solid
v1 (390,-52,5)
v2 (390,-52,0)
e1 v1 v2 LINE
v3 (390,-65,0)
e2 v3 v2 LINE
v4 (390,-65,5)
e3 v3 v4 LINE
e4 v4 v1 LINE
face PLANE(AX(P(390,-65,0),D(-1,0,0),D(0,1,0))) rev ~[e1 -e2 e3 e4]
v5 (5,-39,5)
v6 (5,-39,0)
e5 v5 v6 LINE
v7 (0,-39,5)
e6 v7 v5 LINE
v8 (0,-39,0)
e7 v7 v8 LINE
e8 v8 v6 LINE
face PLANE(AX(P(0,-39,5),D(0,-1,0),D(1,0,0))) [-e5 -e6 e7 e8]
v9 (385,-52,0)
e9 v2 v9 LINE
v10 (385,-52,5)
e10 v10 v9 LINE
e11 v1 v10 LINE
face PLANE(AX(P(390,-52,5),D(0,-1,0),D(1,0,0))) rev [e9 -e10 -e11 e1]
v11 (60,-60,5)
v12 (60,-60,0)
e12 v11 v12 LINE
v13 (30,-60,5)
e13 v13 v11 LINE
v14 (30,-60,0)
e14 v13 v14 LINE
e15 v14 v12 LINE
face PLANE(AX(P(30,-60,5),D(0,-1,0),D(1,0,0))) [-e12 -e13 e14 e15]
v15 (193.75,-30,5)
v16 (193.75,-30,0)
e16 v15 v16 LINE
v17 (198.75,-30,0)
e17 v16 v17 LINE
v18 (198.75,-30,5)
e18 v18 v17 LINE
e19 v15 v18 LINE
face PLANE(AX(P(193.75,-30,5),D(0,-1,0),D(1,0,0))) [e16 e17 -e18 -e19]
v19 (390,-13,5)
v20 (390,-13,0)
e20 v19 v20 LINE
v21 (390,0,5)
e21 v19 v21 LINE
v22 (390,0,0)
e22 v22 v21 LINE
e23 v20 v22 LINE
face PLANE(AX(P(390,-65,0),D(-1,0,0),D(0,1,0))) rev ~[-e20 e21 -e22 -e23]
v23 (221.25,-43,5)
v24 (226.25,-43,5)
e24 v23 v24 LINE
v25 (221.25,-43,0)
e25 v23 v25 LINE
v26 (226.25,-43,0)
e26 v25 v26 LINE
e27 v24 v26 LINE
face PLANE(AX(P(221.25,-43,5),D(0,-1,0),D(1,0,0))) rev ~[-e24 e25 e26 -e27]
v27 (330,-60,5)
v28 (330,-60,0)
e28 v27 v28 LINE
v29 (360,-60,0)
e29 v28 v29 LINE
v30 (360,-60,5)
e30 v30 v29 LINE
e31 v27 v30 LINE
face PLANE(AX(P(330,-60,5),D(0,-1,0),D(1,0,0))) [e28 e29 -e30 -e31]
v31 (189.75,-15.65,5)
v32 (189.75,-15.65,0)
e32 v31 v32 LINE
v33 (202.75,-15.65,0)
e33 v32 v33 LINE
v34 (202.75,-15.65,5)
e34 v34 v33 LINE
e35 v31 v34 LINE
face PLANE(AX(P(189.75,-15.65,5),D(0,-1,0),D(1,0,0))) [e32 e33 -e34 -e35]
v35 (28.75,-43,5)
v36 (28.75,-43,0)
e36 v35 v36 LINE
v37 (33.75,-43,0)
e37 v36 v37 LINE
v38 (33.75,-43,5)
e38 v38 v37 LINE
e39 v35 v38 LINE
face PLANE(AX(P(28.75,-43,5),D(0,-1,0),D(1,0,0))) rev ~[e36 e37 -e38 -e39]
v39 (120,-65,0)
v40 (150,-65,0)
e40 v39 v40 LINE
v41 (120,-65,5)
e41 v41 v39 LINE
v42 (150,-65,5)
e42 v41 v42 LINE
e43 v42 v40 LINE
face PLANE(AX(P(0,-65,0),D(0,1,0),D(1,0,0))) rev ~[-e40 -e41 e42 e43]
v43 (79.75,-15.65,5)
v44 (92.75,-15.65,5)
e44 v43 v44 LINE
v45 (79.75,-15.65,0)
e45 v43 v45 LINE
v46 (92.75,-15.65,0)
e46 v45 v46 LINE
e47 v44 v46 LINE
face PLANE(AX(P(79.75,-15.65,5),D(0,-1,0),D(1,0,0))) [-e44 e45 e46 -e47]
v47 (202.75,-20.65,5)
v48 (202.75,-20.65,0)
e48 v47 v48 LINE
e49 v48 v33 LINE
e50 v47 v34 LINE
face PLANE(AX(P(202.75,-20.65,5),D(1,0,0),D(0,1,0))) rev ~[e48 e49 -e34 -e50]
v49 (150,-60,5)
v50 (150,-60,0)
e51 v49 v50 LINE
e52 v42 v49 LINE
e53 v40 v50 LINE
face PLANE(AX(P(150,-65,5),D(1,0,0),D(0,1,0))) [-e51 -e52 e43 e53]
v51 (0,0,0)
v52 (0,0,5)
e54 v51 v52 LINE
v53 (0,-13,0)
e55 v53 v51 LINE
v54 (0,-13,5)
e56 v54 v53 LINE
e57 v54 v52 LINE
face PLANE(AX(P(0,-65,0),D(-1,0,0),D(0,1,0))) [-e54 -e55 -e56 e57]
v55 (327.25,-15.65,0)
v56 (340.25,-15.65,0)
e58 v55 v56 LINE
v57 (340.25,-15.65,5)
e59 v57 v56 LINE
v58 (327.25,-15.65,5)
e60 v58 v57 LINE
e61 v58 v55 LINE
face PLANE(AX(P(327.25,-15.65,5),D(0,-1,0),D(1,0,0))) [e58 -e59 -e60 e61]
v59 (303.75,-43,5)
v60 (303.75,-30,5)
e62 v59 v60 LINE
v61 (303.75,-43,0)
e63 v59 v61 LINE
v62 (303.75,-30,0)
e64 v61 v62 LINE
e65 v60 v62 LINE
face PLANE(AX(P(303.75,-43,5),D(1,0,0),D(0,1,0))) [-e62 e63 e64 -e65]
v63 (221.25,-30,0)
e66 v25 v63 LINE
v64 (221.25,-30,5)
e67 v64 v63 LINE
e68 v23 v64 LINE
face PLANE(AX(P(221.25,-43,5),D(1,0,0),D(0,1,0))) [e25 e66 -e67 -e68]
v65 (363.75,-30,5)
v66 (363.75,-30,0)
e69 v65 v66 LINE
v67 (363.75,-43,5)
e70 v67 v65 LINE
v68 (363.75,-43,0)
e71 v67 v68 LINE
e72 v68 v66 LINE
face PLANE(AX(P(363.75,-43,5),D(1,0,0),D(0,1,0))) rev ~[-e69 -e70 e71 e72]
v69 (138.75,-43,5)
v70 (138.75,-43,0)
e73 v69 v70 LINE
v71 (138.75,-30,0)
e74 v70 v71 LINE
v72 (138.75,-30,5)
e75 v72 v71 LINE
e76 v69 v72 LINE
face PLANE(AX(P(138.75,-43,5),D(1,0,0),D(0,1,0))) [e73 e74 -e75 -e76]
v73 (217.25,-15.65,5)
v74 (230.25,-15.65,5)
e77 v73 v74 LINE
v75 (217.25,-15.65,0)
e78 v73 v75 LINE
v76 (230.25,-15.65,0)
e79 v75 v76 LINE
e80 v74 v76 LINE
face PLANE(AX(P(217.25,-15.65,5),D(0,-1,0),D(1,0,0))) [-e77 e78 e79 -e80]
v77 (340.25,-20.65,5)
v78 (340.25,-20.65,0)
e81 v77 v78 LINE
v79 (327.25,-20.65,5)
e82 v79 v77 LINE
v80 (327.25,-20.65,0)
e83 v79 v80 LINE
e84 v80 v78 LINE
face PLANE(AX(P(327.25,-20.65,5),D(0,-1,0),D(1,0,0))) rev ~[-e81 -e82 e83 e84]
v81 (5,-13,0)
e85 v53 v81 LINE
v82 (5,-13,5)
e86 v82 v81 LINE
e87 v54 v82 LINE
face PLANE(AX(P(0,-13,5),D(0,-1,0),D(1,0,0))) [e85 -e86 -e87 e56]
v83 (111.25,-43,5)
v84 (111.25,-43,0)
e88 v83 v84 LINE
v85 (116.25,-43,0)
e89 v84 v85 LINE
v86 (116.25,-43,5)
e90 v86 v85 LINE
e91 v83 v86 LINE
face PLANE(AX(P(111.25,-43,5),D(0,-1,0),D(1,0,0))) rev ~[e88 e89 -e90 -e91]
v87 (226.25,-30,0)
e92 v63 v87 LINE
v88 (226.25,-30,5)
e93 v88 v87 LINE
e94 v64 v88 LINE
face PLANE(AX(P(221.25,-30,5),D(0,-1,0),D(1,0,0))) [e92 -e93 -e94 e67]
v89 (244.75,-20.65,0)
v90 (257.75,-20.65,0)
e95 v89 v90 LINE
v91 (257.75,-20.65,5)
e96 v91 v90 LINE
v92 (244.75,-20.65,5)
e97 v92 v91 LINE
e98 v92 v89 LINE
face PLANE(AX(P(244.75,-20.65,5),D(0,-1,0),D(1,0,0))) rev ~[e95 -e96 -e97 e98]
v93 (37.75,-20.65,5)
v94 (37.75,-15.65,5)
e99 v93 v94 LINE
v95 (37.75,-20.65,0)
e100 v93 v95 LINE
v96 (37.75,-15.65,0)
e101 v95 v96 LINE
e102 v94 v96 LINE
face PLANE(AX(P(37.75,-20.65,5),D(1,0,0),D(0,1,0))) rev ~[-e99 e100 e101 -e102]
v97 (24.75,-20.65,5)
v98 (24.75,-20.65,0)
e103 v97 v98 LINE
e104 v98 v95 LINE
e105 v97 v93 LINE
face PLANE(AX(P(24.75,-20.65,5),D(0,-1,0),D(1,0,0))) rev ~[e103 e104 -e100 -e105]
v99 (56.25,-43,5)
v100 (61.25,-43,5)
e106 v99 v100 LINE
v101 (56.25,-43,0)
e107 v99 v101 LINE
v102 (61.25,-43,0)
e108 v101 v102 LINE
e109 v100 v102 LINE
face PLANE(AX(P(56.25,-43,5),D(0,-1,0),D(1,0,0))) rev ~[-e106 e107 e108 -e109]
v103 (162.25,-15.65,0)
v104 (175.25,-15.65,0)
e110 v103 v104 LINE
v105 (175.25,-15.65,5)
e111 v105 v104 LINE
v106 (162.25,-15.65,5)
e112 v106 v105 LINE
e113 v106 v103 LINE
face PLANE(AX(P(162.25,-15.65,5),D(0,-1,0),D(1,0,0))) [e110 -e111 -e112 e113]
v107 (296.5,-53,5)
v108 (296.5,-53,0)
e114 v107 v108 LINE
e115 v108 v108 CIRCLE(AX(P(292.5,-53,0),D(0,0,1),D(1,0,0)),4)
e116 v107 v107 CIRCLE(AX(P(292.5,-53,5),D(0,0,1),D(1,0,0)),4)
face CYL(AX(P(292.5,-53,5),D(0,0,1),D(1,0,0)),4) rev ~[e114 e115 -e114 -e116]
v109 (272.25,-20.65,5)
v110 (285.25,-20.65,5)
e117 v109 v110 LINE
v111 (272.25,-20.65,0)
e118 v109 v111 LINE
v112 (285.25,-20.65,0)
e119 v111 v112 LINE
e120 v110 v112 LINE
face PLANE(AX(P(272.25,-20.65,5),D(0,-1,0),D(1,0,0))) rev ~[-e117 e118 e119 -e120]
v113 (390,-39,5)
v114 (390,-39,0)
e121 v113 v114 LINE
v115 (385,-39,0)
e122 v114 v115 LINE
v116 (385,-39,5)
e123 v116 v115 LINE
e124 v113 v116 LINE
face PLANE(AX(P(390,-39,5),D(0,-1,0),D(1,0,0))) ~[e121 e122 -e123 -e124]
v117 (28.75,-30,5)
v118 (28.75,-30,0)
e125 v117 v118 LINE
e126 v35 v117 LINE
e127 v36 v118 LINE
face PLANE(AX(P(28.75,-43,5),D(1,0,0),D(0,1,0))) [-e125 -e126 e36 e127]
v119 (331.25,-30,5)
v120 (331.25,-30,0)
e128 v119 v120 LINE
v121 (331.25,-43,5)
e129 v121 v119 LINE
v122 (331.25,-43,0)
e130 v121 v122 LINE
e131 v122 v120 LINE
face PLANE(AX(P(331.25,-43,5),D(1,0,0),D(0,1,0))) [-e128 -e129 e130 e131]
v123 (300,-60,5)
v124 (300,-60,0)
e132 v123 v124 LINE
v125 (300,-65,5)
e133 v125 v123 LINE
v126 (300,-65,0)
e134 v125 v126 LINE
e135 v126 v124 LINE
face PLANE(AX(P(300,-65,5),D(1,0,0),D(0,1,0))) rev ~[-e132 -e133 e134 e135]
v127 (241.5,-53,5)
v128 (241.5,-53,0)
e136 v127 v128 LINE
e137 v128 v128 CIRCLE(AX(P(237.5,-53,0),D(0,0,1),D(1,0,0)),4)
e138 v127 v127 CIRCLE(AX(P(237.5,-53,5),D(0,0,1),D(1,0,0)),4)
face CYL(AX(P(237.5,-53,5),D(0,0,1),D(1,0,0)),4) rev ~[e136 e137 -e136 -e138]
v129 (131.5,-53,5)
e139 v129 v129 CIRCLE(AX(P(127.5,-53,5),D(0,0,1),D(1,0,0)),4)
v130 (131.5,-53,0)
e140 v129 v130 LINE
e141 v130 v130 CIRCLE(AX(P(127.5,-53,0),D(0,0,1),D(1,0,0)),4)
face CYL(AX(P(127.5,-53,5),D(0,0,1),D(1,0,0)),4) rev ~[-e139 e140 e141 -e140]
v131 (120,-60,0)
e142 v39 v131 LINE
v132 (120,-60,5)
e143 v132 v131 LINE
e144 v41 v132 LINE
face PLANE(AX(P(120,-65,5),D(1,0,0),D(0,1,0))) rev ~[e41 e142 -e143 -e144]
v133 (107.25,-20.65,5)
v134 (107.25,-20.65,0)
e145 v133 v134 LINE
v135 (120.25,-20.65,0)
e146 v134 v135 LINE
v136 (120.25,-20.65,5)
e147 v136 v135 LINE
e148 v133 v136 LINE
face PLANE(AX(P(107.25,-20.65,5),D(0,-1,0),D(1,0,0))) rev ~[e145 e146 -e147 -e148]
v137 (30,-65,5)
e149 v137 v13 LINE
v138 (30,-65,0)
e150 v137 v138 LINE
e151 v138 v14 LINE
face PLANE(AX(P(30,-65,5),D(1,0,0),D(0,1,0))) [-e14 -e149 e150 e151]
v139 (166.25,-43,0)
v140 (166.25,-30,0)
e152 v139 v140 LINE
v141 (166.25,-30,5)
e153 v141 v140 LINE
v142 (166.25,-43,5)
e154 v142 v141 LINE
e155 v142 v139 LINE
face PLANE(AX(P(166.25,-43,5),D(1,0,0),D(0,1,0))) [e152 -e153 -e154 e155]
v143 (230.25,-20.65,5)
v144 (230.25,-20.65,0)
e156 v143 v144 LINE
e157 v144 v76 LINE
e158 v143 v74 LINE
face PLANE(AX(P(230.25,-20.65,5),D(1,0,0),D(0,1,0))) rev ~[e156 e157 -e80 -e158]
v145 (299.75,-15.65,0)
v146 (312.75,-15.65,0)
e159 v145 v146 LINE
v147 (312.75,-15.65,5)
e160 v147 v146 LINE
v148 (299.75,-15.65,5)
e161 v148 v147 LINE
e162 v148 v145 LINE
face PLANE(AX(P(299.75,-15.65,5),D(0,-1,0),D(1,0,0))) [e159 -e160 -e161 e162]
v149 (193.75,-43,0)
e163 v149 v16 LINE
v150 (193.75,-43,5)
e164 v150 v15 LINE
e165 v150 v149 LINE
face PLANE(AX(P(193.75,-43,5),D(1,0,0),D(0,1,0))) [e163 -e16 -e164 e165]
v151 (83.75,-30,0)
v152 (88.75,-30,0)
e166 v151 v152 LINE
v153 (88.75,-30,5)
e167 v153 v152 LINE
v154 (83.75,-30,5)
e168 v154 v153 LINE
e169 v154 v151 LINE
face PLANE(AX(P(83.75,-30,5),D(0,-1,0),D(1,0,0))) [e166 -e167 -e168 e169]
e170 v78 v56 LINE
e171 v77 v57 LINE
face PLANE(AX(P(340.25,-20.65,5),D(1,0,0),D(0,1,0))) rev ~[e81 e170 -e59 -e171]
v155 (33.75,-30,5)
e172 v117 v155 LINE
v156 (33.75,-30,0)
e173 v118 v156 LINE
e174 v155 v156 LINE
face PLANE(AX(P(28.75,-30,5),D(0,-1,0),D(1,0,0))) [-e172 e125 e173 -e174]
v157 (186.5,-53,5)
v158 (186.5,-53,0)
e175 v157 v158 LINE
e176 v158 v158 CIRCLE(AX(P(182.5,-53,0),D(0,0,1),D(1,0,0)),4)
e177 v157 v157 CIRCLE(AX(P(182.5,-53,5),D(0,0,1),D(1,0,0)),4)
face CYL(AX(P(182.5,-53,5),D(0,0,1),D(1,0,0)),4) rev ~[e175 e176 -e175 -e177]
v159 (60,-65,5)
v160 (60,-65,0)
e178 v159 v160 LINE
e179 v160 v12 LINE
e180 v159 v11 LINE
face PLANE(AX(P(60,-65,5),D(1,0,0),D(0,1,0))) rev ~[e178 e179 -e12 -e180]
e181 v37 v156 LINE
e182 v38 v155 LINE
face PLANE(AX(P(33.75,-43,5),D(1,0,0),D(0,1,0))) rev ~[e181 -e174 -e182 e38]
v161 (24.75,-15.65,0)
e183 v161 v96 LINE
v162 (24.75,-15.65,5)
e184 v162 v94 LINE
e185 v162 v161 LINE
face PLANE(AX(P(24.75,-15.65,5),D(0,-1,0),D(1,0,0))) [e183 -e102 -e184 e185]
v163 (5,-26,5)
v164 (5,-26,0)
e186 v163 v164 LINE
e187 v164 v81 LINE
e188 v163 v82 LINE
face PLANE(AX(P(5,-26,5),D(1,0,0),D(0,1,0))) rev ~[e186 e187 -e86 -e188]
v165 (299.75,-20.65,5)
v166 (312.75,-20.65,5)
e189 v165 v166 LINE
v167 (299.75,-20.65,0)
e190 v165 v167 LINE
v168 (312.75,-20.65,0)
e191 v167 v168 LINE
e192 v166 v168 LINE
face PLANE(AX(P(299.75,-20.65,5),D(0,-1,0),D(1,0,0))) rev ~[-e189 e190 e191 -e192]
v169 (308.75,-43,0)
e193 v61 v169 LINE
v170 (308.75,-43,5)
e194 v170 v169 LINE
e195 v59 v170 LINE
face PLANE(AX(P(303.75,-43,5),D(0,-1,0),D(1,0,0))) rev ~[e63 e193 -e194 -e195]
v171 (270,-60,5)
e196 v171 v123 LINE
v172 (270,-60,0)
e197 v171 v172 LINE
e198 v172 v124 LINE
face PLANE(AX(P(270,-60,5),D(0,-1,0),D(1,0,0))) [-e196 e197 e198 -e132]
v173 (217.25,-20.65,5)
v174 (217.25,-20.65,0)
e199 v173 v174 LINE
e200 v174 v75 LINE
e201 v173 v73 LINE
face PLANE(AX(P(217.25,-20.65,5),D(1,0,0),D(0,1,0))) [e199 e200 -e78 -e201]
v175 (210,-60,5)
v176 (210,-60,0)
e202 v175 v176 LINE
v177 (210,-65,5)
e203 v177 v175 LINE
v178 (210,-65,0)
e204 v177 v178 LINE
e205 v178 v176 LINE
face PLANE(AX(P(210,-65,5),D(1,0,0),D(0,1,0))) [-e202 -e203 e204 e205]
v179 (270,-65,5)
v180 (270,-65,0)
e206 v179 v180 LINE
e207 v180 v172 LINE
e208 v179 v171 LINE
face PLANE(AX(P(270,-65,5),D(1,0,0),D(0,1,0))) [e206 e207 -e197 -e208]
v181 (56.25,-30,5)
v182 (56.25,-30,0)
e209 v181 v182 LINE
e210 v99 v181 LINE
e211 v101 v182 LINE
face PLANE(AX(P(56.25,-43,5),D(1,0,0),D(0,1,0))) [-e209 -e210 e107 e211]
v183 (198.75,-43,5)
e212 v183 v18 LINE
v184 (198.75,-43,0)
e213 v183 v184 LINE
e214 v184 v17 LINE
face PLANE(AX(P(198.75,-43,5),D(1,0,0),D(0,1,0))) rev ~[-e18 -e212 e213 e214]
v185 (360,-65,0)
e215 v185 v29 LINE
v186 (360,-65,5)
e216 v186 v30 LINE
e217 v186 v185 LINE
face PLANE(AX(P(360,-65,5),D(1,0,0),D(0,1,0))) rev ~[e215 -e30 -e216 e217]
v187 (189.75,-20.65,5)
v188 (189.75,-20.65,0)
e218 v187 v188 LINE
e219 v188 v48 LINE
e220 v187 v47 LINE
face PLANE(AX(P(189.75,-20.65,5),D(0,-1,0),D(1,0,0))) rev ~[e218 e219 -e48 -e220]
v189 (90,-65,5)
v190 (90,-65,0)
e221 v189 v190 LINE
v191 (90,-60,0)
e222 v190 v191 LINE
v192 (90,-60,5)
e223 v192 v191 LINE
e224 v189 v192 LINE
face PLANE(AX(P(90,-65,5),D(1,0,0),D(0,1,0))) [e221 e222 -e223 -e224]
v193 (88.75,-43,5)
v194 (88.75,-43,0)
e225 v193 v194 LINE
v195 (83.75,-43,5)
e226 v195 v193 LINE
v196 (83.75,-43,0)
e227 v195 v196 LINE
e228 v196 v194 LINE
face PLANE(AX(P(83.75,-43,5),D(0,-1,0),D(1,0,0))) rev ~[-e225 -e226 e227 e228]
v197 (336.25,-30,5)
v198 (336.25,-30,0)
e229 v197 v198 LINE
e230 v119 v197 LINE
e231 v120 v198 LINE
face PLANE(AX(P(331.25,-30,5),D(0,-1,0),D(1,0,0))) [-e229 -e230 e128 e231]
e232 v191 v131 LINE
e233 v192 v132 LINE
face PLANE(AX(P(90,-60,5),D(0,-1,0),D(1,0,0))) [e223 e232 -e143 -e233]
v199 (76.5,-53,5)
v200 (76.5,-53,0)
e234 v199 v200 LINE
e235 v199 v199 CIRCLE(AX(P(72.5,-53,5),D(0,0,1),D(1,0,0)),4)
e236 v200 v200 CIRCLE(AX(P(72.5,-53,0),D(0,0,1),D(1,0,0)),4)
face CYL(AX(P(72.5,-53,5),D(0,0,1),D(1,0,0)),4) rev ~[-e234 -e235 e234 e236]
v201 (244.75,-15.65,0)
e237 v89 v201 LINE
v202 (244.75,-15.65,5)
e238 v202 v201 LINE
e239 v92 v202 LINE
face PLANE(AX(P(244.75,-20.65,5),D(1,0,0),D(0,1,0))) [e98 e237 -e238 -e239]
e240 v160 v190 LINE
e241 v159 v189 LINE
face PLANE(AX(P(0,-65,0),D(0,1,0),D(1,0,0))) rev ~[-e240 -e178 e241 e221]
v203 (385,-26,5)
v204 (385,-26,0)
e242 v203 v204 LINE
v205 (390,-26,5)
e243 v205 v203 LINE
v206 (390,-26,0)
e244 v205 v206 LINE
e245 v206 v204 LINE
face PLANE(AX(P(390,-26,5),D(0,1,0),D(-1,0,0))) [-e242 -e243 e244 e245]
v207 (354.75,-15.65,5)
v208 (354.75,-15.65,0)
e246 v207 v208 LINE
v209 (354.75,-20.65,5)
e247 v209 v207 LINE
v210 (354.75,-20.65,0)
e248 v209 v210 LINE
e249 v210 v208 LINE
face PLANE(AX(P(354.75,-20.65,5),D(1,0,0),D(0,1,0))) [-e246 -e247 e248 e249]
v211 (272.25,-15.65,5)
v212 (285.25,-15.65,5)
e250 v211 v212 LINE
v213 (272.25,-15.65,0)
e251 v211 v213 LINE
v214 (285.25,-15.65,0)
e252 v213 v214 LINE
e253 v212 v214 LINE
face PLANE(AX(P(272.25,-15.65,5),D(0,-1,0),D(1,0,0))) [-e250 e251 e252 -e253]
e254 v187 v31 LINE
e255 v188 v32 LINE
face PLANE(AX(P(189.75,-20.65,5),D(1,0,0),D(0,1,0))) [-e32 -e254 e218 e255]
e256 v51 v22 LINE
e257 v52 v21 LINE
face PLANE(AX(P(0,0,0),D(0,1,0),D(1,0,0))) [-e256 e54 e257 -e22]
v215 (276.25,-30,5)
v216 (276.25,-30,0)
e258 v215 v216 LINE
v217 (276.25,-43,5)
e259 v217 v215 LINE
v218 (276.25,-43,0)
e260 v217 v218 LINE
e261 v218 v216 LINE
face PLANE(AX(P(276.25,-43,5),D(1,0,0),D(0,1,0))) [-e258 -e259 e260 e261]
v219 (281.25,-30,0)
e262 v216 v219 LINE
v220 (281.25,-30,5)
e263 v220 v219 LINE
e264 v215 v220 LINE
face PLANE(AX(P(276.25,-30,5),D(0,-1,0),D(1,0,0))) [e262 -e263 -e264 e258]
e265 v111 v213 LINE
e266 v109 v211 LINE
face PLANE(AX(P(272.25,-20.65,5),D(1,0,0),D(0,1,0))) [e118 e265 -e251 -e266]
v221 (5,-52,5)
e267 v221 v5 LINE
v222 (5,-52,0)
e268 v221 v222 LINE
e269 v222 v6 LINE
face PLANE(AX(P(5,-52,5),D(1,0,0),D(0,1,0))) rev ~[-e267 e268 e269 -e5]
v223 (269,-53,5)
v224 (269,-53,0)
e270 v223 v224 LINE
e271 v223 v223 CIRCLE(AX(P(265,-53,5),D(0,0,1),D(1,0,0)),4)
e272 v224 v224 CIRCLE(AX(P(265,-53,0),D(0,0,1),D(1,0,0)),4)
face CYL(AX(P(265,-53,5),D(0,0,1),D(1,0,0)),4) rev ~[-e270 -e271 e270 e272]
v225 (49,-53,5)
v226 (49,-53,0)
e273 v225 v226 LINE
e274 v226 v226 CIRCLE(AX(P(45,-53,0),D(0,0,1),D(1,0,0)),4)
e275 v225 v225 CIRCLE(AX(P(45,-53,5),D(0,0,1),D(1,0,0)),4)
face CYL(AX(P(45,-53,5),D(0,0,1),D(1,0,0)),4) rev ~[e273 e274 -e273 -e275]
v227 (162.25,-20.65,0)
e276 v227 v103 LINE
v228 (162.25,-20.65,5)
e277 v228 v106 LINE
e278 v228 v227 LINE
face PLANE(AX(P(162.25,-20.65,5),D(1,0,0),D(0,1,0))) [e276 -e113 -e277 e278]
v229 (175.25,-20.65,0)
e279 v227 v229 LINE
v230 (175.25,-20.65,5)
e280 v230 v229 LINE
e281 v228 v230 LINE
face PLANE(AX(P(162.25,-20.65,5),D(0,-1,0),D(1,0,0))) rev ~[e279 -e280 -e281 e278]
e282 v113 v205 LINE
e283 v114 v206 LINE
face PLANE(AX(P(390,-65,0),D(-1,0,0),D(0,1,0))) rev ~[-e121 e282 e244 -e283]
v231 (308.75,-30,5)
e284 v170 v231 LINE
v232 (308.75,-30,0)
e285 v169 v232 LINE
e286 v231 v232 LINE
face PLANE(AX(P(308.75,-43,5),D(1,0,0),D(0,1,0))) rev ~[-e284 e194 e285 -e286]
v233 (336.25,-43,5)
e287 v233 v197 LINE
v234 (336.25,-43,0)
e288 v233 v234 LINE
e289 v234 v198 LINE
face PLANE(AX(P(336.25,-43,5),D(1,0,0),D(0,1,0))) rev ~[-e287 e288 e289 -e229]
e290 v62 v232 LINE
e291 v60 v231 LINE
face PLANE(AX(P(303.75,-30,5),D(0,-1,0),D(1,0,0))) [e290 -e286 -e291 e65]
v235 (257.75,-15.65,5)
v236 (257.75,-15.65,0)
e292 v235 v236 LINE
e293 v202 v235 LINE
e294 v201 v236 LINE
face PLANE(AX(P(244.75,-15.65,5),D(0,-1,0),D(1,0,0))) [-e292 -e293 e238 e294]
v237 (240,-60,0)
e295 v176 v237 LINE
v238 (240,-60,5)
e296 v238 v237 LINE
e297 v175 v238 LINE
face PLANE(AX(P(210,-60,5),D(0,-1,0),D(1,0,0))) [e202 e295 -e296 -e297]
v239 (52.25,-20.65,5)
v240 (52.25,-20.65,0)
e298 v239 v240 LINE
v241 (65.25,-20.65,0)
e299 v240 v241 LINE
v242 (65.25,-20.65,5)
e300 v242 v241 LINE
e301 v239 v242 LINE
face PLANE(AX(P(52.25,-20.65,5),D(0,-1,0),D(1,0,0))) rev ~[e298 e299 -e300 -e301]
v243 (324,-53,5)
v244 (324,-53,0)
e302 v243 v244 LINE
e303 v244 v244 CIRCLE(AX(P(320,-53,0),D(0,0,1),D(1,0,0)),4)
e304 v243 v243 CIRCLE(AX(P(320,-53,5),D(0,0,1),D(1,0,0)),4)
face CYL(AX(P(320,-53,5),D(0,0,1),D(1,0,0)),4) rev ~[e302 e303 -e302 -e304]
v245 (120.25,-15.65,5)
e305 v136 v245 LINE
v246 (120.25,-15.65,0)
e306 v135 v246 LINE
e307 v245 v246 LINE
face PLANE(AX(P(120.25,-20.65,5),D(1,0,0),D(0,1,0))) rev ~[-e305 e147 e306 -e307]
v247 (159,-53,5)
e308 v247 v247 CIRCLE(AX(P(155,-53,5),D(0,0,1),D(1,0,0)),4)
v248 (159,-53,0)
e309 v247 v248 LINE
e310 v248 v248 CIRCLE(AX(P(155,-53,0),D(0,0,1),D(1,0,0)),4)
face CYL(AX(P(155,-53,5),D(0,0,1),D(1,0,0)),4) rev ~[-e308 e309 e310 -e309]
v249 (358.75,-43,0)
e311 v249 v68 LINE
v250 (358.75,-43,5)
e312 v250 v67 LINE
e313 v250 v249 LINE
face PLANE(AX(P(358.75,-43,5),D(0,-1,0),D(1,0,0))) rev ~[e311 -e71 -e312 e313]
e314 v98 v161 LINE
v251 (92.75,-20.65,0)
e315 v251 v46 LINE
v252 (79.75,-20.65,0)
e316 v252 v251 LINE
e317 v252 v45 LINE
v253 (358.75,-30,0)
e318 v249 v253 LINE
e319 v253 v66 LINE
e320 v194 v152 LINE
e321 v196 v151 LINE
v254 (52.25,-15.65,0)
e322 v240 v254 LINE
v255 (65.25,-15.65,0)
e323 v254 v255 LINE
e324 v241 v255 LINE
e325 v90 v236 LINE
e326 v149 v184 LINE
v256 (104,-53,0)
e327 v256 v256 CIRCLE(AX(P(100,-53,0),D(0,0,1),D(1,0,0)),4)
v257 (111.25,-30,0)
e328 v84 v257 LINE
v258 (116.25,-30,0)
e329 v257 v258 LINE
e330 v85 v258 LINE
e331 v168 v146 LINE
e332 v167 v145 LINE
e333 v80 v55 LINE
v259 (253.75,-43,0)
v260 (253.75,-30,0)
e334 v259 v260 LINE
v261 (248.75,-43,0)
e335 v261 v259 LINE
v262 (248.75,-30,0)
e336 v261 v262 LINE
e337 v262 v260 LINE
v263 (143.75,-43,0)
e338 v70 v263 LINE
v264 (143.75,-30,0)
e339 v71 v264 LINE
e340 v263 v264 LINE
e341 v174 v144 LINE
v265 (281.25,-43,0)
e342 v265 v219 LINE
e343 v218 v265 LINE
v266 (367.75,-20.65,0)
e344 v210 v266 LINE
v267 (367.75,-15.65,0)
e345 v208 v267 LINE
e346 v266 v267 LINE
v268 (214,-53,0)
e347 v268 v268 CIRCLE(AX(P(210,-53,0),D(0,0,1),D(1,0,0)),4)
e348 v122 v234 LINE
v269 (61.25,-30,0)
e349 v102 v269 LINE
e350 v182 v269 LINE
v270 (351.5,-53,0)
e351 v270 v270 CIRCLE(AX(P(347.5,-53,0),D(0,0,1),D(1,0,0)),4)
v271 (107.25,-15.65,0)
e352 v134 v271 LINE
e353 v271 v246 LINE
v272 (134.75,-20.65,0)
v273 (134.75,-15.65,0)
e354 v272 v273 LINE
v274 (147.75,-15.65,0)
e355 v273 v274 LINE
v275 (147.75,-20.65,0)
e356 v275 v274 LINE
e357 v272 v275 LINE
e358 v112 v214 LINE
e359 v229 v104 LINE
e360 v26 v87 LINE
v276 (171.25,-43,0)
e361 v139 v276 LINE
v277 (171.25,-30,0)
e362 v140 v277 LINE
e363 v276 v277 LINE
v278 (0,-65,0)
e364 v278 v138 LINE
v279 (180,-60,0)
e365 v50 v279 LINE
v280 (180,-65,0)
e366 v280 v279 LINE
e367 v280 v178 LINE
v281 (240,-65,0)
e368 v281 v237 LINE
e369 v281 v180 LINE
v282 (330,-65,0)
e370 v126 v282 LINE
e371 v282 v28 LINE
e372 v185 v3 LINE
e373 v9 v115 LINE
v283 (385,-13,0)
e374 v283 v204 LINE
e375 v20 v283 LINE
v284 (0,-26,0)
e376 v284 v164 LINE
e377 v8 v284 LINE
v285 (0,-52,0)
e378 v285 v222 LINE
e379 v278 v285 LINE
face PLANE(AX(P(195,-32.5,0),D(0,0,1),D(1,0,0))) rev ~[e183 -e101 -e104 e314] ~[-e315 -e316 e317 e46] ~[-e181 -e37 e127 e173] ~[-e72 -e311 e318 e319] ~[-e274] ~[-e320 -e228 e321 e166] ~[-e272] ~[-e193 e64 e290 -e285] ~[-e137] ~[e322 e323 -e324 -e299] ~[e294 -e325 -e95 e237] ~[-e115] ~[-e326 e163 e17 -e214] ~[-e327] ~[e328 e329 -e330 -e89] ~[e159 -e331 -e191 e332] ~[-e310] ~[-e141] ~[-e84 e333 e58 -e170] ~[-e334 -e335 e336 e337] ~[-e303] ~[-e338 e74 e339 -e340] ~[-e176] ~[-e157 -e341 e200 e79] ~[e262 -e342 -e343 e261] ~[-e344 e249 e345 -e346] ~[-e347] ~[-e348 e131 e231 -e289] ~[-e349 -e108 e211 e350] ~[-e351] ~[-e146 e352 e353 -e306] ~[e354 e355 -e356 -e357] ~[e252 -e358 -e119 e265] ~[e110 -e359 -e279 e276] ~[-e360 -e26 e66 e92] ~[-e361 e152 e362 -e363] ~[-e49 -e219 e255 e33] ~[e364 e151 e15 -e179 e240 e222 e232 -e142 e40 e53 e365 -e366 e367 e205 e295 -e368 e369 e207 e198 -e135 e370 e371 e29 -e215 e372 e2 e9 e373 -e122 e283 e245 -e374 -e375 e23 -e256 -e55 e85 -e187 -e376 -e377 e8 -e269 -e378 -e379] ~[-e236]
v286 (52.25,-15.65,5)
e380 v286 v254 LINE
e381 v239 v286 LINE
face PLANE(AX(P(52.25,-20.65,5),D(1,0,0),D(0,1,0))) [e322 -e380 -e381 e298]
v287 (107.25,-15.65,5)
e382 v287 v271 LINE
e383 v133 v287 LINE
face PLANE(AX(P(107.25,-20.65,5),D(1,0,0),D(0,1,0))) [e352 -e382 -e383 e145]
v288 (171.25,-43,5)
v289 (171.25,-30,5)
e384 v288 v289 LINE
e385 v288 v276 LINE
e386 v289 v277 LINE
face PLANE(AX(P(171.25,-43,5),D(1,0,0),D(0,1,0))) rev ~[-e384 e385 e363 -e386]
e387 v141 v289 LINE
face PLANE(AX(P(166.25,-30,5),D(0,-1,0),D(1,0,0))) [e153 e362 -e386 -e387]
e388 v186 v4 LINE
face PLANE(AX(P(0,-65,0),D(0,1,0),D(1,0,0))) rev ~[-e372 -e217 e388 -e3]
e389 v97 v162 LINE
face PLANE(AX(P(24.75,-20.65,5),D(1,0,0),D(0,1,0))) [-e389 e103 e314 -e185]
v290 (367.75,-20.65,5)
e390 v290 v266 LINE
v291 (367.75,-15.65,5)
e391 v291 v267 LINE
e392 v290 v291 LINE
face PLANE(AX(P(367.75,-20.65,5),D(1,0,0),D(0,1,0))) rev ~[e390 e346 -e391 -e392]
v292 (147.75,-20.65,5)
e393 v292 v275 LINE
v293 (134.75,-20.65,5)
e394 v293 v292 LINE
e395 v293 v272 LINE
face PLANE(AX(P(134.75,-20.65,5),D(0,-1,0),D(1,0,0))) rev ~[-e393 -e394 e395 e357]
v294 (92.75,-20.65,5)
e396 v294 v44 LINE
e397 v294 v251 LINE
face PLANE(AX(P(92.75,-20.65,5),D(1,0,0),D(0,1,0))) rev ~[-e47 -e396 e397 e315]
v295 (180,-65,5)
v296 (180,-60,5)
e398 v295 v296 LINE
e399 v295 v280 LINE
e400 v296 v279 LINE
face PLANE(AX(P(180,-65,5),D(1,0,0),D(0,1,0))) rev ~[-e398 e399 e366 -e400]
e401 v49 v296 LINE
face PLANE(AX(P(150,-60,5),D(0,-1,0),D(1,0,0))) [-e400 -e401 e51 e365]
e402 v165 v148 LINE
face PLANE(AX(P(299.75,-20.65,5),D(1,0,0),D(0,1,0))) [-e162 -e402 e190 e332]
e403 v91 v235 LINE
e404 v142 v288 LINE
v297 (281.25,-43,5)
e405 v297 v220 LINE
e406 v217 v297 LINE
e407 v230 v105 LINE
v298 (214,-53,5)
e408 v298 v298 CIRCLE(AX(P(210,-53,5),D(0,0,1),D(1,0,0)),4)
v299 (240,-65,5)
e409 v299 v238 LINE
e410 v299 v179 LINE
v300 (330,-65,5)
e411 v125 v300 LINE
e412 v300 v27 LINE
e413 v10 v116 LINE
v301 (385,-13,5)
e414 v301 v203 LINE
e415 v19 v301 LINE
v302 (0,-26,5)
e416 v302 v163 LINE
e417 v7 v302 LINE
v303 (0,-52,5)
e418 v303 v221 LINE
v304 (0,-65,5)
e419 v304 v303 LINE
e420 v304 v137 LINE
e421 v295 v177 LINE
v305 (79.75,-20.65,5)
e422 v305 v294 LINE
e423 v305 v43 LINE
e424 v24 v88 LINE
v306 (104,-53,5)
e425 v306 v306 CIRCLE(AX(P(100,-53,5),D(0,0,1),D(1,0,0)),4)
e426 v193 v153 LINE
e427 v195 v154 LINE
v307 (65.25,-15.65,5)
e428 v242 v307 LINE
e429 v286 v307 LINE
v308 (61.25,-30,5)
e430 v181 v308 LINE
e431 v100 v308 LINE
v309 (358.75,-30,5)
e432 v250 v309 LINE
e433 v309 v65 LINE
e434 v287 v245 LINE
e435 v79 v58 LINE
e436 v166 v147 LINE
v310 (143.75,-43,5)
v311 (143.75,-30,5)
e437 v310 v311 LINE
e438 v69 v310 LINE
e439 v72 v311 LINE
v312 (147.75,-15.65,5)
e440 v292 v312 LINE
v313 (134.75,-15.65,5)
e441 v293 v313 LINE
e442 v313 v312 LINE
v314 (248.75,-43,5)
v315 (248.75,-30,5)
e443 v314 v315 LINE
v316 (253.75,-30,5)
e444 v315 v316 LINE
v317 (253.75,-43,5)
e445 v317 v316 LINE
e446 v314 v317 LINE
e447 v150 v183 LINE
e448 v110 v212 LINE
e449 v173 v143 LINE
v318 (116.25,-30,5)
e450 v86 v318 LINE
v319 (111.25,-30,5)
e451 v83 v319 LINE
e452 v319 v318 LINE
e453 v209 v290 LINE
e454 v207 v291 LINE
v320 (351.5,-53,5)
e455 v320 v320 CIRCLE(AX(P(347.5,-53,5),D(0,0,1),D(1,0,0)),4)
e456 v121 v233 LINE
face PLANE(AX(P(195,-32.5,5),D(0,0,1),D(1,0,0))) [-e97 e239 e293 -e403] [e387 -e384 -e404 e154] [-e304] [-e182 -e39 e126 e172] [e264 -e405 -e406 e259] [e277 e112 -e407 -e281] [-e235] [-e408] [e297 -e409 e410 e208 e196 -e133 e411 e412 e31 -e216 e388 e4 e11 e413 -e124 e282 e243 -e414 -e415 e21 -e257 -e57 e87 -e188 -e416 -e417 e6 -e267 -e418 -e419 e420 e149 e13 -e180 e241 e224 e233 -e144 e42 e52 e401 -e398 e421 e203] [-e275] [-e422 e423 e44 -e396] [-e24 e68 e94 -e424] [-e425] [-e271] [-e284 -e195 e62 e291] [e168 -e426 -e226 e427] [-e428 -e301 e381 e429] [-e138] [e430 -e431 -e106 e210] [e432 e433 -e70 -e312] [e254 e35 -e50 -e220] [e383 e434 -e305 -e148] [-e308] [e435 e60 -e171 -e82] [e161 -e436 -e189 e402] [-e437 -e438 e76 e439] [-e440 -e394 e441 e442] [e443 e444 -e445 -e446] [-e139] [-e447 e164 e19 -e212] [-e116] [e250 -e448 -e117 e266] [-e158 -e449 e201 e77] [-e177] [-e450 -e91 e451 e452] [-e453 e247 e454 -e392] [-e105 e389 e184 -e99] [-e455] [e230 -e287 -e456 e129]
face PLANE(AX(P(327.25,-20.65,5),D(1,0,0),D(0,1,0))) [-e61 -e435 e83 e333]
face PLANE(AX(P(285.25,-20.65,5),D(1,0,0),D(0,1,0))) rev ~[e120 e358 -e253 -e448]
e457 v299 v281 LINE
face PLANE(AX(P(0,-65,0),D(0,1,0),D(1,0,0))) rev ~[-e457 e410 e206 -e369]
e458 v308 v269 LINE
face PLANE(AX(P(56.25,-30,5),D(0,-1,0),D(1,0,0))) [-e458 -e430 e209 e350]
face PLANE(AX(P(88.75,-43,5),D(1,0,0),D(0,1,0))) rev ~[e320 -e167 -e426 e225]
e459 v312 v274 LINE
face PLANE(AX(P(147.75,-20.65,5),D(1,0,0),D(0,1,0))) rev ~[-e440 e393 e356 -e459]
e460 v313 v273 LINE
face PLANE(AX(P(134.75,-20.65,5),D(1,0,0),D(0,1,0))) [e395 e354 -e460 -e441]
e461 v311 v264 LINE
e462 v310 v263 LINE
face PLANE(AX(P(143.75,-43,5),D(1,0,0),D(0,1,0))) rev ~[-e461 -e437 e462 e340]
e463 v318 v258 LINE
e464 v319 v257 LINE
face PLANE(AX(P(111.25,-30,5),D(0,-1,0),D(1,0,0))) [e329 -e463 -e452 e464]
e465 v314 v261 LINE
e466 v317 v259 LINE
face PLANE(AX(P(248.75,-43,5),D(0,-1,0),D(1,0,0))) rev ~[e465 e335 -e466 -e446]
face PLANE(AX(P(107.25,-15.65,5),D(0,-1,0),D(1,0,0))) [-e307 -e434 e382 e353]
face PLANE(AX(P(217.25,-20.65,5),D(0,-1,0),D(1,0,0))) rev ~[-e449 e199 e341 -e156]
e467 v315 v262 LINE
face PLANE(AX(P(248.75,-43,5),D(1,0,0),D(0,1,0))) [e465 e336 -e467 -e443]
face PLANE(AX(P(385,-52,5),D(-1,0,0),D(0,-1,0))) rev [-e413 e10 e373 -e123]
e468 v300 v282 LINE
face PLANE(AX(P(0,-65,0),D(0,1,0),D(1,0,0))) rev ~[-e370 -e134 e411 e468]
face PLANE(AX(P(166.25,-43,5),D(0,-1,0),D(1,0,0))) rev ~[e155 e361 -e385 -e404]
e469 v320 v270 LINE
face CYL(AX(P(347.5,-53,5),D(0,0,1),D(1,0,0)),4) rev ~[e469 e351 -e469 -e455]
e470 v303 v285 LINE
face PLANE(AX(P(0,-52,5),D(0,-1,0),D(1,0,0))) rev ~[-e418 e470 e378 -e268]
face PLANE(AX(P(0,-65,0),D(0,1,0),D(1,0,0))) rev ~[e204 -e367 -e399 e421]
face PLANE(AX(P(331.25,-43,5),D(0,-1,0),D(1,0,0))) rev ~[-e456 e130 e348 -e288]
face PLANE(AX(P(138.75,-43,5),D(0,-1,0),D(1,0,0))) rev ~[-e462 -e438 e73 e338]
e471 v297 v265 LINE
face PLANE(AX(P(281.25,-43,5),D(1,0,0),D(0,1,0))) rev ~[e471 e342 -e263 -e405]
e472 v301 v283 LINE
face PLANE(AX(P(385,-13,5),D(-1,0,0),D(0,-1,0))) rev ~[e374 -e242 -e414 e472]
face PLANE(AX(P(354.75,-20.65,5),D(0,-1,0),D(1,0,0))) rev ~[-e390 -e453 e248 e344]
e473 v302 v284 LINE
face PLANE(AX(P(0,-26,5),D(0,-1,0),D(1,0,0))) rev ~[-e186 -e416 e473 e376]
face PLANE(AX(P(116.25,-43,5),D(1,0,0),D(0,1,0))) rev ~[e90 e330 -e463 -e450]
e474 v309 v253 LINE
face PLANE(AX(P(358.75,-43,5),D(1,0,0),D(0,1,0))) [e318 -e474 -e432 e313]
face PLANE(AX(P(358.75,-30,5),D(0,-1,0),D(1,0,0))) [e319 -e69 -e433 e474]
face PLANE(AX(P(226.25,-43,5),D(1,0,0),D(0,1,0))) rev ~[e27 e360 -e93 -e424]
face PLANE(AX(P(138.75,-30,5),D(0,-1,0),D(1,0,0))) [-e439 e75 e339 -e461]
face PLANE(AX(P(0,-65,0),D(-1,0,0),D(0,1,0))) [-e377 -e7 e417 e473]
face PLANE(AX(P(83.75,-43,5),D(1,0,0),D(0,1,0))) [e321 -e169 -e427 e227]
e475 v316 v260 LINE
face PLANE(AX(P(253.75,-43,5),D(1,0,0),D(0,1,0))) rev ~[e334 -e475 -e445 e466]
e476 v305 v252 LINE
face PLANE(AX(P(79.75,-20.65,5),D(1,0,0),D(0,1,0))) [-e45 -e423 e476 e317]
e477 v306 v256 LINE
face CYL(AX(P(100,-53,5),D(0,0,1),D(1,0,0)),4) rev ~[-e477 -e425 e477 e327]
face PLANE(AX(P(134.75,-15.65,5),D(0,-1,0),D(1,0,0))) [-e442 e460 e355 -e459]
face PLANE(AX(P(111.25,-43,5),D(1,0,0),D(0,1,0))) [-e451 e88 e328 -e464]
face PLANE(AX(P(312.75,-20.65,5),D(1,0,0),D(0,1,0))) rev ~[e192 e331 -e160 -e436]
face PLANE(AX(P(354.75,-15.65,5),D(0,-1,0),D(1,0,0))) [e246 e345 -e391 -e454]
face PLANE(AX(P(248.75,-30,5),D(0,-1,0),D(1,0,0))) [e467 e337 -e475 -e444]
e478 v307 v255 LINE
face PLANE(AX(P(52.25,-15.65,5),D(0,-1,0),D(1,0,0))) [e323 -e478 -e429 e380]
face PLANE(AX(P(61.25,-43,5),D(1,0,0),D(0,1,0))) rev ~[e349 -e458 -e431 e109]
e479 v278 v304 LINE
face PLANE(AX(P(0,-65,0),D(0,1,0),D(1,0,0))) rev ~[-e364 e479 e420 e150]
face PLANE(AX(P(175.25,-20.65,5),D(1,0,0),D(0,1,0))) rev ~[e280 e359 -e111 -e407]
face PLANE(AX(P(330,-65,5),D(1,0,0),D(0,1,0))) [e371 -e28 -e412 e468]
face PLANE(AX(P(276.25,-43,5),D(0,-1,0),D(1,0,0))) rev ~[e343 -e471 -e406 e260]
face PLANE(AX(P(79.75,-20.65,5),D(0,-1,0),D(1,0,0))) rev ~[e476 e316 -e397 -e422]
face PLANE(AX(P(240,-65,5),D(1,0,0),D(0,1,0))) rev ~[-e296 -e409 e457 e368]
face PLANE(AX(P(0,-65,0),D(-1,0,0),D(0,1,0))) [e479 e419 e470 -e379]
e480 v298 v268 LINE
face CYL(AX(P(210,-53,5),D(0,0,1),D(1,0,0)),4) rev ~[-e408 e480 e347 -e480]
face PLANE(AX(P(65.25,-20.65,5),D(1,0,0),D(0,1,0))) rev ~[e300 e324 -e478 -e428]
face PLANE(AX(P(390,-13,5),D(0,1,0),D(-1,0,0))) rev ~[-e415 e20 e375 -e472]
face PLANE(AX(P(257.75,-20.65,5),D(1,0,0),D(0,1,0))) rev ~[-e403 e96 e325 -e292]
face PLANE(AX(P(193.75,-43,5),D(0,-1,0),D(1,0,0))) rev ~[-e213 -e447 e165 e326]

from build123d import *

# Parameters (mm, degrees)
ESQUISSE1_W                    = 390
ESQUISSE1_H                    = 65
BOSS_EXTRU_1_DEPTH             = 5
ESQUISSE2_W                    = 30
ESQUISSE2_H                    = 5
ENL_V_MAT_EXTRU_1_DEPTH        = 5
R_P_TITION_LIN_AIRE1_COUNT     = 6
R_P_TITION_LIN_AIRE1_PITCH     = 60
ESQUISSE3_W                    = 5
ESQUISSE3_H                    = 13
ENL_V_MAT_EXTRU_2_DEPTH        = 5
R_P_TITION_LIN_AIRE2_COUNT     = 2
R_P_TITION_LIN_AIRE2_PITCH     = 26
SYM_TRIE1_COPY_1_SKETCH_W      = 5
SYM_TRIE1_COPY_1_SKETCH_H      = 13
SYM_TRIE1_COPY_1_DEPTH         = 5
ESQUISSE5_R                    = 4
ENL_V_MAT_EXTRU_4_DEPTH        = 5
R_P_TITION_LIN_AIRE4_COUNT     = 10
R_P_TITION_LIN_AIRE4_PITCH     = 27.5
R_P_TITION_LIN_AIRE4_COL_COUNT = 3
R_P_TITION_LIN_AIRE4_COL_PITCH = 27.5
ESQUISSE4_W                    = 5
ESQUISSE4_H                    = 13
ESQUISSE4_W_2                  = 13
ESQUISSE4_H_2                  = 5
ENL_V_MAT_EXTRU_3_DEPTH        = 5
R_P_TITION_LIN_AIRE3_COUNT     = 3
R_P_TITION_LIN_AIRE3_PITCH     = 27.5
R_P_TITION_LIN_AIRE3_COL_COUNT = 11
R_P_TITION_LIN_AIRE3_COL_PITCH = 27.5


with BuildPart() as part:
    # Esquisse1 → Boss.-Extru.1 (new body)
    with BuildSketch(Plane.XY):
        with Locations((195, -32.5)):
            Rectangle(ESQUISSE1_W, ESQUISSE1_H)
    extrude(amount=BOSS_EXTRU_1_DEPTH)

    # Esquisse2 → Enlèv. mat.-Extru.1 (cut)
    with BuildSketch(Plane.XY.offset(5)):
        with Locations((45, -62.5)):
            Rectangle(ESQUISSE2_W, ESQUISSE2_H)
    enl_v_mat_extru_1 = extrude(amount=-ENL_V_MAT_EXTRU_1_DEPTH, mode=Mode.SUBTRACT)

    # Répétition linéaire1: Enlèv. mat.-Extru.1 ×6
    with Locations(*[(i * R_P_TITION_LIN_AIRE1_PITCH, 0, 0) for i in range(1, R_P_TITION_LIN_AIRE1_COUNT)]):
        add(enl_v_mat_extru_1, mode=Mode.SUBTRACT)

    # Esquisse3 → Enlèv. mat.-Extru.2 (cut)
    with BuildSketch(Plane.XY.offset(5)):
        with Locations((2.5, -45.5)):
            Rectangle(ESQUISSE3_W, ESQUISSE3_H)
    enl_v_mat_extru_2 = extrude(amount=-ENL_V_MAT_EXTRU_2_DEPTH, mode=Mode.SUBTRACT)

    # Répétition linéaire2: Enlèv. mat.-Extru.2 ×2
    with Locations(*[(0, i * R_P_TITION_LIN_AIRE2_PITCH, 0) for i in range(1, R_P_TITION_LIN_AIRE2_COUNT)]):
        add(enl_v_mat_extru_2, mode=Mode.SUBTRACT)

    # Symétrie1: Enlèv. mat.-Extru.2 across plane
    add(enl_v_mat_extru_2.mirror(Plane.ZY.offset(-195)), mode=Mode.SUBTRACT)

    # Symétrie1 copy 1 sketch → Symétrie1 copy 1 (cut)
    with BuildSketch(Plane(origin=(390, 26, 5), x_dir=(-1, 0, 0), z_dir=(0, 0, 1))):
        with Locations((2.5, 45.5)):
            Rectangle(SYM_TRIE1_COPY_1_SKETCH_W, SYM_TRIE1_COPY_1_SKETCH_H)
    extrude(amount=-SYM_TRIE1_COPY_1_DEPTH, mode=Mode.SUBTRACT)

    # Esquisse5 → Enlèv. mat.-Extru.4 (cut)
    with BuildSketch(Plane.XY.offset(5)):
        with Locations((100, -53)):
            Circle(ESQUISSE5_R)
    enl_v_mat_extru_4 = extrude(amount=-ENL_V_MAT_EXTRU_4_DEPTH, mode=Mode.SUBTRACT)

    # Répétition linéaire4: Enlèv. mat.-Extru.4 ×10
    with Locations(*[(i * R_P_TITION_LIN_AIRE4_PITCH, 0, 0) for i in range(1, R_P_TITION_LIN_AIRE4_COUNT)]):
        add(enl_v_mat_extru_4, mode=Mode.SUBTRACT)

    # Répétition linéaire4 col: Enlèv. mat.-Extru.4 ×3
    with Locations(*[(-i * R_P_TITION_LIN_AIRE4_COL_PITCH, 0, 0) for i in range(1, R_P_TITION_LIN_AIRE4_COL_COUNT)]):
        add(enl_v_mat_extru_4, mode=Mode.SUBTRACT)

    # Esquisse4 → Enlèv. mat.-Extru.3 (cut)
    with BuildSketch(Plane.XY.offset(5)):
        with Locations((86.25, -36.5)):
            Rectangle(ESQUISSE4_W, ESQUISSE4_H)
        with Locations((86.25, -18.15)):
            Rectangle(ESQUISSE4_W_2, ESQUISSE4_H_2)
    enl_v_mat_extru_3 = extrude(amount=-ENL_V_MAT_EXTRU_3_DEPTH, mode=Mode.SUBTRACT)

    # Répétition linéaire3: Enlèv. mat.-Extru.3 ×3
    with Locations(*[(-i * R_P_TITION_LIN_AIRE3_PITCH, 0, 0) for i in range(1, R_P_TITION_LIN_AIRE3_COUNT)]):
        add(enl_v_mat_extru_3, mode=Mode.SUBTRACT)

    # Répétition linéaire3 col: Enlèv. mat.-Extru.3 ×11
    with Locations(*[(i * R_P_TITION_LIN_AIRE3_COL_PITCH, 0, 0) for i in range(1, R_P_TITION_LIN_AIRE3_COL_COUNT)]):
        add(enl_v_mat_extru_3, mode=Mode.SUBTRACT)


solid = part.part
